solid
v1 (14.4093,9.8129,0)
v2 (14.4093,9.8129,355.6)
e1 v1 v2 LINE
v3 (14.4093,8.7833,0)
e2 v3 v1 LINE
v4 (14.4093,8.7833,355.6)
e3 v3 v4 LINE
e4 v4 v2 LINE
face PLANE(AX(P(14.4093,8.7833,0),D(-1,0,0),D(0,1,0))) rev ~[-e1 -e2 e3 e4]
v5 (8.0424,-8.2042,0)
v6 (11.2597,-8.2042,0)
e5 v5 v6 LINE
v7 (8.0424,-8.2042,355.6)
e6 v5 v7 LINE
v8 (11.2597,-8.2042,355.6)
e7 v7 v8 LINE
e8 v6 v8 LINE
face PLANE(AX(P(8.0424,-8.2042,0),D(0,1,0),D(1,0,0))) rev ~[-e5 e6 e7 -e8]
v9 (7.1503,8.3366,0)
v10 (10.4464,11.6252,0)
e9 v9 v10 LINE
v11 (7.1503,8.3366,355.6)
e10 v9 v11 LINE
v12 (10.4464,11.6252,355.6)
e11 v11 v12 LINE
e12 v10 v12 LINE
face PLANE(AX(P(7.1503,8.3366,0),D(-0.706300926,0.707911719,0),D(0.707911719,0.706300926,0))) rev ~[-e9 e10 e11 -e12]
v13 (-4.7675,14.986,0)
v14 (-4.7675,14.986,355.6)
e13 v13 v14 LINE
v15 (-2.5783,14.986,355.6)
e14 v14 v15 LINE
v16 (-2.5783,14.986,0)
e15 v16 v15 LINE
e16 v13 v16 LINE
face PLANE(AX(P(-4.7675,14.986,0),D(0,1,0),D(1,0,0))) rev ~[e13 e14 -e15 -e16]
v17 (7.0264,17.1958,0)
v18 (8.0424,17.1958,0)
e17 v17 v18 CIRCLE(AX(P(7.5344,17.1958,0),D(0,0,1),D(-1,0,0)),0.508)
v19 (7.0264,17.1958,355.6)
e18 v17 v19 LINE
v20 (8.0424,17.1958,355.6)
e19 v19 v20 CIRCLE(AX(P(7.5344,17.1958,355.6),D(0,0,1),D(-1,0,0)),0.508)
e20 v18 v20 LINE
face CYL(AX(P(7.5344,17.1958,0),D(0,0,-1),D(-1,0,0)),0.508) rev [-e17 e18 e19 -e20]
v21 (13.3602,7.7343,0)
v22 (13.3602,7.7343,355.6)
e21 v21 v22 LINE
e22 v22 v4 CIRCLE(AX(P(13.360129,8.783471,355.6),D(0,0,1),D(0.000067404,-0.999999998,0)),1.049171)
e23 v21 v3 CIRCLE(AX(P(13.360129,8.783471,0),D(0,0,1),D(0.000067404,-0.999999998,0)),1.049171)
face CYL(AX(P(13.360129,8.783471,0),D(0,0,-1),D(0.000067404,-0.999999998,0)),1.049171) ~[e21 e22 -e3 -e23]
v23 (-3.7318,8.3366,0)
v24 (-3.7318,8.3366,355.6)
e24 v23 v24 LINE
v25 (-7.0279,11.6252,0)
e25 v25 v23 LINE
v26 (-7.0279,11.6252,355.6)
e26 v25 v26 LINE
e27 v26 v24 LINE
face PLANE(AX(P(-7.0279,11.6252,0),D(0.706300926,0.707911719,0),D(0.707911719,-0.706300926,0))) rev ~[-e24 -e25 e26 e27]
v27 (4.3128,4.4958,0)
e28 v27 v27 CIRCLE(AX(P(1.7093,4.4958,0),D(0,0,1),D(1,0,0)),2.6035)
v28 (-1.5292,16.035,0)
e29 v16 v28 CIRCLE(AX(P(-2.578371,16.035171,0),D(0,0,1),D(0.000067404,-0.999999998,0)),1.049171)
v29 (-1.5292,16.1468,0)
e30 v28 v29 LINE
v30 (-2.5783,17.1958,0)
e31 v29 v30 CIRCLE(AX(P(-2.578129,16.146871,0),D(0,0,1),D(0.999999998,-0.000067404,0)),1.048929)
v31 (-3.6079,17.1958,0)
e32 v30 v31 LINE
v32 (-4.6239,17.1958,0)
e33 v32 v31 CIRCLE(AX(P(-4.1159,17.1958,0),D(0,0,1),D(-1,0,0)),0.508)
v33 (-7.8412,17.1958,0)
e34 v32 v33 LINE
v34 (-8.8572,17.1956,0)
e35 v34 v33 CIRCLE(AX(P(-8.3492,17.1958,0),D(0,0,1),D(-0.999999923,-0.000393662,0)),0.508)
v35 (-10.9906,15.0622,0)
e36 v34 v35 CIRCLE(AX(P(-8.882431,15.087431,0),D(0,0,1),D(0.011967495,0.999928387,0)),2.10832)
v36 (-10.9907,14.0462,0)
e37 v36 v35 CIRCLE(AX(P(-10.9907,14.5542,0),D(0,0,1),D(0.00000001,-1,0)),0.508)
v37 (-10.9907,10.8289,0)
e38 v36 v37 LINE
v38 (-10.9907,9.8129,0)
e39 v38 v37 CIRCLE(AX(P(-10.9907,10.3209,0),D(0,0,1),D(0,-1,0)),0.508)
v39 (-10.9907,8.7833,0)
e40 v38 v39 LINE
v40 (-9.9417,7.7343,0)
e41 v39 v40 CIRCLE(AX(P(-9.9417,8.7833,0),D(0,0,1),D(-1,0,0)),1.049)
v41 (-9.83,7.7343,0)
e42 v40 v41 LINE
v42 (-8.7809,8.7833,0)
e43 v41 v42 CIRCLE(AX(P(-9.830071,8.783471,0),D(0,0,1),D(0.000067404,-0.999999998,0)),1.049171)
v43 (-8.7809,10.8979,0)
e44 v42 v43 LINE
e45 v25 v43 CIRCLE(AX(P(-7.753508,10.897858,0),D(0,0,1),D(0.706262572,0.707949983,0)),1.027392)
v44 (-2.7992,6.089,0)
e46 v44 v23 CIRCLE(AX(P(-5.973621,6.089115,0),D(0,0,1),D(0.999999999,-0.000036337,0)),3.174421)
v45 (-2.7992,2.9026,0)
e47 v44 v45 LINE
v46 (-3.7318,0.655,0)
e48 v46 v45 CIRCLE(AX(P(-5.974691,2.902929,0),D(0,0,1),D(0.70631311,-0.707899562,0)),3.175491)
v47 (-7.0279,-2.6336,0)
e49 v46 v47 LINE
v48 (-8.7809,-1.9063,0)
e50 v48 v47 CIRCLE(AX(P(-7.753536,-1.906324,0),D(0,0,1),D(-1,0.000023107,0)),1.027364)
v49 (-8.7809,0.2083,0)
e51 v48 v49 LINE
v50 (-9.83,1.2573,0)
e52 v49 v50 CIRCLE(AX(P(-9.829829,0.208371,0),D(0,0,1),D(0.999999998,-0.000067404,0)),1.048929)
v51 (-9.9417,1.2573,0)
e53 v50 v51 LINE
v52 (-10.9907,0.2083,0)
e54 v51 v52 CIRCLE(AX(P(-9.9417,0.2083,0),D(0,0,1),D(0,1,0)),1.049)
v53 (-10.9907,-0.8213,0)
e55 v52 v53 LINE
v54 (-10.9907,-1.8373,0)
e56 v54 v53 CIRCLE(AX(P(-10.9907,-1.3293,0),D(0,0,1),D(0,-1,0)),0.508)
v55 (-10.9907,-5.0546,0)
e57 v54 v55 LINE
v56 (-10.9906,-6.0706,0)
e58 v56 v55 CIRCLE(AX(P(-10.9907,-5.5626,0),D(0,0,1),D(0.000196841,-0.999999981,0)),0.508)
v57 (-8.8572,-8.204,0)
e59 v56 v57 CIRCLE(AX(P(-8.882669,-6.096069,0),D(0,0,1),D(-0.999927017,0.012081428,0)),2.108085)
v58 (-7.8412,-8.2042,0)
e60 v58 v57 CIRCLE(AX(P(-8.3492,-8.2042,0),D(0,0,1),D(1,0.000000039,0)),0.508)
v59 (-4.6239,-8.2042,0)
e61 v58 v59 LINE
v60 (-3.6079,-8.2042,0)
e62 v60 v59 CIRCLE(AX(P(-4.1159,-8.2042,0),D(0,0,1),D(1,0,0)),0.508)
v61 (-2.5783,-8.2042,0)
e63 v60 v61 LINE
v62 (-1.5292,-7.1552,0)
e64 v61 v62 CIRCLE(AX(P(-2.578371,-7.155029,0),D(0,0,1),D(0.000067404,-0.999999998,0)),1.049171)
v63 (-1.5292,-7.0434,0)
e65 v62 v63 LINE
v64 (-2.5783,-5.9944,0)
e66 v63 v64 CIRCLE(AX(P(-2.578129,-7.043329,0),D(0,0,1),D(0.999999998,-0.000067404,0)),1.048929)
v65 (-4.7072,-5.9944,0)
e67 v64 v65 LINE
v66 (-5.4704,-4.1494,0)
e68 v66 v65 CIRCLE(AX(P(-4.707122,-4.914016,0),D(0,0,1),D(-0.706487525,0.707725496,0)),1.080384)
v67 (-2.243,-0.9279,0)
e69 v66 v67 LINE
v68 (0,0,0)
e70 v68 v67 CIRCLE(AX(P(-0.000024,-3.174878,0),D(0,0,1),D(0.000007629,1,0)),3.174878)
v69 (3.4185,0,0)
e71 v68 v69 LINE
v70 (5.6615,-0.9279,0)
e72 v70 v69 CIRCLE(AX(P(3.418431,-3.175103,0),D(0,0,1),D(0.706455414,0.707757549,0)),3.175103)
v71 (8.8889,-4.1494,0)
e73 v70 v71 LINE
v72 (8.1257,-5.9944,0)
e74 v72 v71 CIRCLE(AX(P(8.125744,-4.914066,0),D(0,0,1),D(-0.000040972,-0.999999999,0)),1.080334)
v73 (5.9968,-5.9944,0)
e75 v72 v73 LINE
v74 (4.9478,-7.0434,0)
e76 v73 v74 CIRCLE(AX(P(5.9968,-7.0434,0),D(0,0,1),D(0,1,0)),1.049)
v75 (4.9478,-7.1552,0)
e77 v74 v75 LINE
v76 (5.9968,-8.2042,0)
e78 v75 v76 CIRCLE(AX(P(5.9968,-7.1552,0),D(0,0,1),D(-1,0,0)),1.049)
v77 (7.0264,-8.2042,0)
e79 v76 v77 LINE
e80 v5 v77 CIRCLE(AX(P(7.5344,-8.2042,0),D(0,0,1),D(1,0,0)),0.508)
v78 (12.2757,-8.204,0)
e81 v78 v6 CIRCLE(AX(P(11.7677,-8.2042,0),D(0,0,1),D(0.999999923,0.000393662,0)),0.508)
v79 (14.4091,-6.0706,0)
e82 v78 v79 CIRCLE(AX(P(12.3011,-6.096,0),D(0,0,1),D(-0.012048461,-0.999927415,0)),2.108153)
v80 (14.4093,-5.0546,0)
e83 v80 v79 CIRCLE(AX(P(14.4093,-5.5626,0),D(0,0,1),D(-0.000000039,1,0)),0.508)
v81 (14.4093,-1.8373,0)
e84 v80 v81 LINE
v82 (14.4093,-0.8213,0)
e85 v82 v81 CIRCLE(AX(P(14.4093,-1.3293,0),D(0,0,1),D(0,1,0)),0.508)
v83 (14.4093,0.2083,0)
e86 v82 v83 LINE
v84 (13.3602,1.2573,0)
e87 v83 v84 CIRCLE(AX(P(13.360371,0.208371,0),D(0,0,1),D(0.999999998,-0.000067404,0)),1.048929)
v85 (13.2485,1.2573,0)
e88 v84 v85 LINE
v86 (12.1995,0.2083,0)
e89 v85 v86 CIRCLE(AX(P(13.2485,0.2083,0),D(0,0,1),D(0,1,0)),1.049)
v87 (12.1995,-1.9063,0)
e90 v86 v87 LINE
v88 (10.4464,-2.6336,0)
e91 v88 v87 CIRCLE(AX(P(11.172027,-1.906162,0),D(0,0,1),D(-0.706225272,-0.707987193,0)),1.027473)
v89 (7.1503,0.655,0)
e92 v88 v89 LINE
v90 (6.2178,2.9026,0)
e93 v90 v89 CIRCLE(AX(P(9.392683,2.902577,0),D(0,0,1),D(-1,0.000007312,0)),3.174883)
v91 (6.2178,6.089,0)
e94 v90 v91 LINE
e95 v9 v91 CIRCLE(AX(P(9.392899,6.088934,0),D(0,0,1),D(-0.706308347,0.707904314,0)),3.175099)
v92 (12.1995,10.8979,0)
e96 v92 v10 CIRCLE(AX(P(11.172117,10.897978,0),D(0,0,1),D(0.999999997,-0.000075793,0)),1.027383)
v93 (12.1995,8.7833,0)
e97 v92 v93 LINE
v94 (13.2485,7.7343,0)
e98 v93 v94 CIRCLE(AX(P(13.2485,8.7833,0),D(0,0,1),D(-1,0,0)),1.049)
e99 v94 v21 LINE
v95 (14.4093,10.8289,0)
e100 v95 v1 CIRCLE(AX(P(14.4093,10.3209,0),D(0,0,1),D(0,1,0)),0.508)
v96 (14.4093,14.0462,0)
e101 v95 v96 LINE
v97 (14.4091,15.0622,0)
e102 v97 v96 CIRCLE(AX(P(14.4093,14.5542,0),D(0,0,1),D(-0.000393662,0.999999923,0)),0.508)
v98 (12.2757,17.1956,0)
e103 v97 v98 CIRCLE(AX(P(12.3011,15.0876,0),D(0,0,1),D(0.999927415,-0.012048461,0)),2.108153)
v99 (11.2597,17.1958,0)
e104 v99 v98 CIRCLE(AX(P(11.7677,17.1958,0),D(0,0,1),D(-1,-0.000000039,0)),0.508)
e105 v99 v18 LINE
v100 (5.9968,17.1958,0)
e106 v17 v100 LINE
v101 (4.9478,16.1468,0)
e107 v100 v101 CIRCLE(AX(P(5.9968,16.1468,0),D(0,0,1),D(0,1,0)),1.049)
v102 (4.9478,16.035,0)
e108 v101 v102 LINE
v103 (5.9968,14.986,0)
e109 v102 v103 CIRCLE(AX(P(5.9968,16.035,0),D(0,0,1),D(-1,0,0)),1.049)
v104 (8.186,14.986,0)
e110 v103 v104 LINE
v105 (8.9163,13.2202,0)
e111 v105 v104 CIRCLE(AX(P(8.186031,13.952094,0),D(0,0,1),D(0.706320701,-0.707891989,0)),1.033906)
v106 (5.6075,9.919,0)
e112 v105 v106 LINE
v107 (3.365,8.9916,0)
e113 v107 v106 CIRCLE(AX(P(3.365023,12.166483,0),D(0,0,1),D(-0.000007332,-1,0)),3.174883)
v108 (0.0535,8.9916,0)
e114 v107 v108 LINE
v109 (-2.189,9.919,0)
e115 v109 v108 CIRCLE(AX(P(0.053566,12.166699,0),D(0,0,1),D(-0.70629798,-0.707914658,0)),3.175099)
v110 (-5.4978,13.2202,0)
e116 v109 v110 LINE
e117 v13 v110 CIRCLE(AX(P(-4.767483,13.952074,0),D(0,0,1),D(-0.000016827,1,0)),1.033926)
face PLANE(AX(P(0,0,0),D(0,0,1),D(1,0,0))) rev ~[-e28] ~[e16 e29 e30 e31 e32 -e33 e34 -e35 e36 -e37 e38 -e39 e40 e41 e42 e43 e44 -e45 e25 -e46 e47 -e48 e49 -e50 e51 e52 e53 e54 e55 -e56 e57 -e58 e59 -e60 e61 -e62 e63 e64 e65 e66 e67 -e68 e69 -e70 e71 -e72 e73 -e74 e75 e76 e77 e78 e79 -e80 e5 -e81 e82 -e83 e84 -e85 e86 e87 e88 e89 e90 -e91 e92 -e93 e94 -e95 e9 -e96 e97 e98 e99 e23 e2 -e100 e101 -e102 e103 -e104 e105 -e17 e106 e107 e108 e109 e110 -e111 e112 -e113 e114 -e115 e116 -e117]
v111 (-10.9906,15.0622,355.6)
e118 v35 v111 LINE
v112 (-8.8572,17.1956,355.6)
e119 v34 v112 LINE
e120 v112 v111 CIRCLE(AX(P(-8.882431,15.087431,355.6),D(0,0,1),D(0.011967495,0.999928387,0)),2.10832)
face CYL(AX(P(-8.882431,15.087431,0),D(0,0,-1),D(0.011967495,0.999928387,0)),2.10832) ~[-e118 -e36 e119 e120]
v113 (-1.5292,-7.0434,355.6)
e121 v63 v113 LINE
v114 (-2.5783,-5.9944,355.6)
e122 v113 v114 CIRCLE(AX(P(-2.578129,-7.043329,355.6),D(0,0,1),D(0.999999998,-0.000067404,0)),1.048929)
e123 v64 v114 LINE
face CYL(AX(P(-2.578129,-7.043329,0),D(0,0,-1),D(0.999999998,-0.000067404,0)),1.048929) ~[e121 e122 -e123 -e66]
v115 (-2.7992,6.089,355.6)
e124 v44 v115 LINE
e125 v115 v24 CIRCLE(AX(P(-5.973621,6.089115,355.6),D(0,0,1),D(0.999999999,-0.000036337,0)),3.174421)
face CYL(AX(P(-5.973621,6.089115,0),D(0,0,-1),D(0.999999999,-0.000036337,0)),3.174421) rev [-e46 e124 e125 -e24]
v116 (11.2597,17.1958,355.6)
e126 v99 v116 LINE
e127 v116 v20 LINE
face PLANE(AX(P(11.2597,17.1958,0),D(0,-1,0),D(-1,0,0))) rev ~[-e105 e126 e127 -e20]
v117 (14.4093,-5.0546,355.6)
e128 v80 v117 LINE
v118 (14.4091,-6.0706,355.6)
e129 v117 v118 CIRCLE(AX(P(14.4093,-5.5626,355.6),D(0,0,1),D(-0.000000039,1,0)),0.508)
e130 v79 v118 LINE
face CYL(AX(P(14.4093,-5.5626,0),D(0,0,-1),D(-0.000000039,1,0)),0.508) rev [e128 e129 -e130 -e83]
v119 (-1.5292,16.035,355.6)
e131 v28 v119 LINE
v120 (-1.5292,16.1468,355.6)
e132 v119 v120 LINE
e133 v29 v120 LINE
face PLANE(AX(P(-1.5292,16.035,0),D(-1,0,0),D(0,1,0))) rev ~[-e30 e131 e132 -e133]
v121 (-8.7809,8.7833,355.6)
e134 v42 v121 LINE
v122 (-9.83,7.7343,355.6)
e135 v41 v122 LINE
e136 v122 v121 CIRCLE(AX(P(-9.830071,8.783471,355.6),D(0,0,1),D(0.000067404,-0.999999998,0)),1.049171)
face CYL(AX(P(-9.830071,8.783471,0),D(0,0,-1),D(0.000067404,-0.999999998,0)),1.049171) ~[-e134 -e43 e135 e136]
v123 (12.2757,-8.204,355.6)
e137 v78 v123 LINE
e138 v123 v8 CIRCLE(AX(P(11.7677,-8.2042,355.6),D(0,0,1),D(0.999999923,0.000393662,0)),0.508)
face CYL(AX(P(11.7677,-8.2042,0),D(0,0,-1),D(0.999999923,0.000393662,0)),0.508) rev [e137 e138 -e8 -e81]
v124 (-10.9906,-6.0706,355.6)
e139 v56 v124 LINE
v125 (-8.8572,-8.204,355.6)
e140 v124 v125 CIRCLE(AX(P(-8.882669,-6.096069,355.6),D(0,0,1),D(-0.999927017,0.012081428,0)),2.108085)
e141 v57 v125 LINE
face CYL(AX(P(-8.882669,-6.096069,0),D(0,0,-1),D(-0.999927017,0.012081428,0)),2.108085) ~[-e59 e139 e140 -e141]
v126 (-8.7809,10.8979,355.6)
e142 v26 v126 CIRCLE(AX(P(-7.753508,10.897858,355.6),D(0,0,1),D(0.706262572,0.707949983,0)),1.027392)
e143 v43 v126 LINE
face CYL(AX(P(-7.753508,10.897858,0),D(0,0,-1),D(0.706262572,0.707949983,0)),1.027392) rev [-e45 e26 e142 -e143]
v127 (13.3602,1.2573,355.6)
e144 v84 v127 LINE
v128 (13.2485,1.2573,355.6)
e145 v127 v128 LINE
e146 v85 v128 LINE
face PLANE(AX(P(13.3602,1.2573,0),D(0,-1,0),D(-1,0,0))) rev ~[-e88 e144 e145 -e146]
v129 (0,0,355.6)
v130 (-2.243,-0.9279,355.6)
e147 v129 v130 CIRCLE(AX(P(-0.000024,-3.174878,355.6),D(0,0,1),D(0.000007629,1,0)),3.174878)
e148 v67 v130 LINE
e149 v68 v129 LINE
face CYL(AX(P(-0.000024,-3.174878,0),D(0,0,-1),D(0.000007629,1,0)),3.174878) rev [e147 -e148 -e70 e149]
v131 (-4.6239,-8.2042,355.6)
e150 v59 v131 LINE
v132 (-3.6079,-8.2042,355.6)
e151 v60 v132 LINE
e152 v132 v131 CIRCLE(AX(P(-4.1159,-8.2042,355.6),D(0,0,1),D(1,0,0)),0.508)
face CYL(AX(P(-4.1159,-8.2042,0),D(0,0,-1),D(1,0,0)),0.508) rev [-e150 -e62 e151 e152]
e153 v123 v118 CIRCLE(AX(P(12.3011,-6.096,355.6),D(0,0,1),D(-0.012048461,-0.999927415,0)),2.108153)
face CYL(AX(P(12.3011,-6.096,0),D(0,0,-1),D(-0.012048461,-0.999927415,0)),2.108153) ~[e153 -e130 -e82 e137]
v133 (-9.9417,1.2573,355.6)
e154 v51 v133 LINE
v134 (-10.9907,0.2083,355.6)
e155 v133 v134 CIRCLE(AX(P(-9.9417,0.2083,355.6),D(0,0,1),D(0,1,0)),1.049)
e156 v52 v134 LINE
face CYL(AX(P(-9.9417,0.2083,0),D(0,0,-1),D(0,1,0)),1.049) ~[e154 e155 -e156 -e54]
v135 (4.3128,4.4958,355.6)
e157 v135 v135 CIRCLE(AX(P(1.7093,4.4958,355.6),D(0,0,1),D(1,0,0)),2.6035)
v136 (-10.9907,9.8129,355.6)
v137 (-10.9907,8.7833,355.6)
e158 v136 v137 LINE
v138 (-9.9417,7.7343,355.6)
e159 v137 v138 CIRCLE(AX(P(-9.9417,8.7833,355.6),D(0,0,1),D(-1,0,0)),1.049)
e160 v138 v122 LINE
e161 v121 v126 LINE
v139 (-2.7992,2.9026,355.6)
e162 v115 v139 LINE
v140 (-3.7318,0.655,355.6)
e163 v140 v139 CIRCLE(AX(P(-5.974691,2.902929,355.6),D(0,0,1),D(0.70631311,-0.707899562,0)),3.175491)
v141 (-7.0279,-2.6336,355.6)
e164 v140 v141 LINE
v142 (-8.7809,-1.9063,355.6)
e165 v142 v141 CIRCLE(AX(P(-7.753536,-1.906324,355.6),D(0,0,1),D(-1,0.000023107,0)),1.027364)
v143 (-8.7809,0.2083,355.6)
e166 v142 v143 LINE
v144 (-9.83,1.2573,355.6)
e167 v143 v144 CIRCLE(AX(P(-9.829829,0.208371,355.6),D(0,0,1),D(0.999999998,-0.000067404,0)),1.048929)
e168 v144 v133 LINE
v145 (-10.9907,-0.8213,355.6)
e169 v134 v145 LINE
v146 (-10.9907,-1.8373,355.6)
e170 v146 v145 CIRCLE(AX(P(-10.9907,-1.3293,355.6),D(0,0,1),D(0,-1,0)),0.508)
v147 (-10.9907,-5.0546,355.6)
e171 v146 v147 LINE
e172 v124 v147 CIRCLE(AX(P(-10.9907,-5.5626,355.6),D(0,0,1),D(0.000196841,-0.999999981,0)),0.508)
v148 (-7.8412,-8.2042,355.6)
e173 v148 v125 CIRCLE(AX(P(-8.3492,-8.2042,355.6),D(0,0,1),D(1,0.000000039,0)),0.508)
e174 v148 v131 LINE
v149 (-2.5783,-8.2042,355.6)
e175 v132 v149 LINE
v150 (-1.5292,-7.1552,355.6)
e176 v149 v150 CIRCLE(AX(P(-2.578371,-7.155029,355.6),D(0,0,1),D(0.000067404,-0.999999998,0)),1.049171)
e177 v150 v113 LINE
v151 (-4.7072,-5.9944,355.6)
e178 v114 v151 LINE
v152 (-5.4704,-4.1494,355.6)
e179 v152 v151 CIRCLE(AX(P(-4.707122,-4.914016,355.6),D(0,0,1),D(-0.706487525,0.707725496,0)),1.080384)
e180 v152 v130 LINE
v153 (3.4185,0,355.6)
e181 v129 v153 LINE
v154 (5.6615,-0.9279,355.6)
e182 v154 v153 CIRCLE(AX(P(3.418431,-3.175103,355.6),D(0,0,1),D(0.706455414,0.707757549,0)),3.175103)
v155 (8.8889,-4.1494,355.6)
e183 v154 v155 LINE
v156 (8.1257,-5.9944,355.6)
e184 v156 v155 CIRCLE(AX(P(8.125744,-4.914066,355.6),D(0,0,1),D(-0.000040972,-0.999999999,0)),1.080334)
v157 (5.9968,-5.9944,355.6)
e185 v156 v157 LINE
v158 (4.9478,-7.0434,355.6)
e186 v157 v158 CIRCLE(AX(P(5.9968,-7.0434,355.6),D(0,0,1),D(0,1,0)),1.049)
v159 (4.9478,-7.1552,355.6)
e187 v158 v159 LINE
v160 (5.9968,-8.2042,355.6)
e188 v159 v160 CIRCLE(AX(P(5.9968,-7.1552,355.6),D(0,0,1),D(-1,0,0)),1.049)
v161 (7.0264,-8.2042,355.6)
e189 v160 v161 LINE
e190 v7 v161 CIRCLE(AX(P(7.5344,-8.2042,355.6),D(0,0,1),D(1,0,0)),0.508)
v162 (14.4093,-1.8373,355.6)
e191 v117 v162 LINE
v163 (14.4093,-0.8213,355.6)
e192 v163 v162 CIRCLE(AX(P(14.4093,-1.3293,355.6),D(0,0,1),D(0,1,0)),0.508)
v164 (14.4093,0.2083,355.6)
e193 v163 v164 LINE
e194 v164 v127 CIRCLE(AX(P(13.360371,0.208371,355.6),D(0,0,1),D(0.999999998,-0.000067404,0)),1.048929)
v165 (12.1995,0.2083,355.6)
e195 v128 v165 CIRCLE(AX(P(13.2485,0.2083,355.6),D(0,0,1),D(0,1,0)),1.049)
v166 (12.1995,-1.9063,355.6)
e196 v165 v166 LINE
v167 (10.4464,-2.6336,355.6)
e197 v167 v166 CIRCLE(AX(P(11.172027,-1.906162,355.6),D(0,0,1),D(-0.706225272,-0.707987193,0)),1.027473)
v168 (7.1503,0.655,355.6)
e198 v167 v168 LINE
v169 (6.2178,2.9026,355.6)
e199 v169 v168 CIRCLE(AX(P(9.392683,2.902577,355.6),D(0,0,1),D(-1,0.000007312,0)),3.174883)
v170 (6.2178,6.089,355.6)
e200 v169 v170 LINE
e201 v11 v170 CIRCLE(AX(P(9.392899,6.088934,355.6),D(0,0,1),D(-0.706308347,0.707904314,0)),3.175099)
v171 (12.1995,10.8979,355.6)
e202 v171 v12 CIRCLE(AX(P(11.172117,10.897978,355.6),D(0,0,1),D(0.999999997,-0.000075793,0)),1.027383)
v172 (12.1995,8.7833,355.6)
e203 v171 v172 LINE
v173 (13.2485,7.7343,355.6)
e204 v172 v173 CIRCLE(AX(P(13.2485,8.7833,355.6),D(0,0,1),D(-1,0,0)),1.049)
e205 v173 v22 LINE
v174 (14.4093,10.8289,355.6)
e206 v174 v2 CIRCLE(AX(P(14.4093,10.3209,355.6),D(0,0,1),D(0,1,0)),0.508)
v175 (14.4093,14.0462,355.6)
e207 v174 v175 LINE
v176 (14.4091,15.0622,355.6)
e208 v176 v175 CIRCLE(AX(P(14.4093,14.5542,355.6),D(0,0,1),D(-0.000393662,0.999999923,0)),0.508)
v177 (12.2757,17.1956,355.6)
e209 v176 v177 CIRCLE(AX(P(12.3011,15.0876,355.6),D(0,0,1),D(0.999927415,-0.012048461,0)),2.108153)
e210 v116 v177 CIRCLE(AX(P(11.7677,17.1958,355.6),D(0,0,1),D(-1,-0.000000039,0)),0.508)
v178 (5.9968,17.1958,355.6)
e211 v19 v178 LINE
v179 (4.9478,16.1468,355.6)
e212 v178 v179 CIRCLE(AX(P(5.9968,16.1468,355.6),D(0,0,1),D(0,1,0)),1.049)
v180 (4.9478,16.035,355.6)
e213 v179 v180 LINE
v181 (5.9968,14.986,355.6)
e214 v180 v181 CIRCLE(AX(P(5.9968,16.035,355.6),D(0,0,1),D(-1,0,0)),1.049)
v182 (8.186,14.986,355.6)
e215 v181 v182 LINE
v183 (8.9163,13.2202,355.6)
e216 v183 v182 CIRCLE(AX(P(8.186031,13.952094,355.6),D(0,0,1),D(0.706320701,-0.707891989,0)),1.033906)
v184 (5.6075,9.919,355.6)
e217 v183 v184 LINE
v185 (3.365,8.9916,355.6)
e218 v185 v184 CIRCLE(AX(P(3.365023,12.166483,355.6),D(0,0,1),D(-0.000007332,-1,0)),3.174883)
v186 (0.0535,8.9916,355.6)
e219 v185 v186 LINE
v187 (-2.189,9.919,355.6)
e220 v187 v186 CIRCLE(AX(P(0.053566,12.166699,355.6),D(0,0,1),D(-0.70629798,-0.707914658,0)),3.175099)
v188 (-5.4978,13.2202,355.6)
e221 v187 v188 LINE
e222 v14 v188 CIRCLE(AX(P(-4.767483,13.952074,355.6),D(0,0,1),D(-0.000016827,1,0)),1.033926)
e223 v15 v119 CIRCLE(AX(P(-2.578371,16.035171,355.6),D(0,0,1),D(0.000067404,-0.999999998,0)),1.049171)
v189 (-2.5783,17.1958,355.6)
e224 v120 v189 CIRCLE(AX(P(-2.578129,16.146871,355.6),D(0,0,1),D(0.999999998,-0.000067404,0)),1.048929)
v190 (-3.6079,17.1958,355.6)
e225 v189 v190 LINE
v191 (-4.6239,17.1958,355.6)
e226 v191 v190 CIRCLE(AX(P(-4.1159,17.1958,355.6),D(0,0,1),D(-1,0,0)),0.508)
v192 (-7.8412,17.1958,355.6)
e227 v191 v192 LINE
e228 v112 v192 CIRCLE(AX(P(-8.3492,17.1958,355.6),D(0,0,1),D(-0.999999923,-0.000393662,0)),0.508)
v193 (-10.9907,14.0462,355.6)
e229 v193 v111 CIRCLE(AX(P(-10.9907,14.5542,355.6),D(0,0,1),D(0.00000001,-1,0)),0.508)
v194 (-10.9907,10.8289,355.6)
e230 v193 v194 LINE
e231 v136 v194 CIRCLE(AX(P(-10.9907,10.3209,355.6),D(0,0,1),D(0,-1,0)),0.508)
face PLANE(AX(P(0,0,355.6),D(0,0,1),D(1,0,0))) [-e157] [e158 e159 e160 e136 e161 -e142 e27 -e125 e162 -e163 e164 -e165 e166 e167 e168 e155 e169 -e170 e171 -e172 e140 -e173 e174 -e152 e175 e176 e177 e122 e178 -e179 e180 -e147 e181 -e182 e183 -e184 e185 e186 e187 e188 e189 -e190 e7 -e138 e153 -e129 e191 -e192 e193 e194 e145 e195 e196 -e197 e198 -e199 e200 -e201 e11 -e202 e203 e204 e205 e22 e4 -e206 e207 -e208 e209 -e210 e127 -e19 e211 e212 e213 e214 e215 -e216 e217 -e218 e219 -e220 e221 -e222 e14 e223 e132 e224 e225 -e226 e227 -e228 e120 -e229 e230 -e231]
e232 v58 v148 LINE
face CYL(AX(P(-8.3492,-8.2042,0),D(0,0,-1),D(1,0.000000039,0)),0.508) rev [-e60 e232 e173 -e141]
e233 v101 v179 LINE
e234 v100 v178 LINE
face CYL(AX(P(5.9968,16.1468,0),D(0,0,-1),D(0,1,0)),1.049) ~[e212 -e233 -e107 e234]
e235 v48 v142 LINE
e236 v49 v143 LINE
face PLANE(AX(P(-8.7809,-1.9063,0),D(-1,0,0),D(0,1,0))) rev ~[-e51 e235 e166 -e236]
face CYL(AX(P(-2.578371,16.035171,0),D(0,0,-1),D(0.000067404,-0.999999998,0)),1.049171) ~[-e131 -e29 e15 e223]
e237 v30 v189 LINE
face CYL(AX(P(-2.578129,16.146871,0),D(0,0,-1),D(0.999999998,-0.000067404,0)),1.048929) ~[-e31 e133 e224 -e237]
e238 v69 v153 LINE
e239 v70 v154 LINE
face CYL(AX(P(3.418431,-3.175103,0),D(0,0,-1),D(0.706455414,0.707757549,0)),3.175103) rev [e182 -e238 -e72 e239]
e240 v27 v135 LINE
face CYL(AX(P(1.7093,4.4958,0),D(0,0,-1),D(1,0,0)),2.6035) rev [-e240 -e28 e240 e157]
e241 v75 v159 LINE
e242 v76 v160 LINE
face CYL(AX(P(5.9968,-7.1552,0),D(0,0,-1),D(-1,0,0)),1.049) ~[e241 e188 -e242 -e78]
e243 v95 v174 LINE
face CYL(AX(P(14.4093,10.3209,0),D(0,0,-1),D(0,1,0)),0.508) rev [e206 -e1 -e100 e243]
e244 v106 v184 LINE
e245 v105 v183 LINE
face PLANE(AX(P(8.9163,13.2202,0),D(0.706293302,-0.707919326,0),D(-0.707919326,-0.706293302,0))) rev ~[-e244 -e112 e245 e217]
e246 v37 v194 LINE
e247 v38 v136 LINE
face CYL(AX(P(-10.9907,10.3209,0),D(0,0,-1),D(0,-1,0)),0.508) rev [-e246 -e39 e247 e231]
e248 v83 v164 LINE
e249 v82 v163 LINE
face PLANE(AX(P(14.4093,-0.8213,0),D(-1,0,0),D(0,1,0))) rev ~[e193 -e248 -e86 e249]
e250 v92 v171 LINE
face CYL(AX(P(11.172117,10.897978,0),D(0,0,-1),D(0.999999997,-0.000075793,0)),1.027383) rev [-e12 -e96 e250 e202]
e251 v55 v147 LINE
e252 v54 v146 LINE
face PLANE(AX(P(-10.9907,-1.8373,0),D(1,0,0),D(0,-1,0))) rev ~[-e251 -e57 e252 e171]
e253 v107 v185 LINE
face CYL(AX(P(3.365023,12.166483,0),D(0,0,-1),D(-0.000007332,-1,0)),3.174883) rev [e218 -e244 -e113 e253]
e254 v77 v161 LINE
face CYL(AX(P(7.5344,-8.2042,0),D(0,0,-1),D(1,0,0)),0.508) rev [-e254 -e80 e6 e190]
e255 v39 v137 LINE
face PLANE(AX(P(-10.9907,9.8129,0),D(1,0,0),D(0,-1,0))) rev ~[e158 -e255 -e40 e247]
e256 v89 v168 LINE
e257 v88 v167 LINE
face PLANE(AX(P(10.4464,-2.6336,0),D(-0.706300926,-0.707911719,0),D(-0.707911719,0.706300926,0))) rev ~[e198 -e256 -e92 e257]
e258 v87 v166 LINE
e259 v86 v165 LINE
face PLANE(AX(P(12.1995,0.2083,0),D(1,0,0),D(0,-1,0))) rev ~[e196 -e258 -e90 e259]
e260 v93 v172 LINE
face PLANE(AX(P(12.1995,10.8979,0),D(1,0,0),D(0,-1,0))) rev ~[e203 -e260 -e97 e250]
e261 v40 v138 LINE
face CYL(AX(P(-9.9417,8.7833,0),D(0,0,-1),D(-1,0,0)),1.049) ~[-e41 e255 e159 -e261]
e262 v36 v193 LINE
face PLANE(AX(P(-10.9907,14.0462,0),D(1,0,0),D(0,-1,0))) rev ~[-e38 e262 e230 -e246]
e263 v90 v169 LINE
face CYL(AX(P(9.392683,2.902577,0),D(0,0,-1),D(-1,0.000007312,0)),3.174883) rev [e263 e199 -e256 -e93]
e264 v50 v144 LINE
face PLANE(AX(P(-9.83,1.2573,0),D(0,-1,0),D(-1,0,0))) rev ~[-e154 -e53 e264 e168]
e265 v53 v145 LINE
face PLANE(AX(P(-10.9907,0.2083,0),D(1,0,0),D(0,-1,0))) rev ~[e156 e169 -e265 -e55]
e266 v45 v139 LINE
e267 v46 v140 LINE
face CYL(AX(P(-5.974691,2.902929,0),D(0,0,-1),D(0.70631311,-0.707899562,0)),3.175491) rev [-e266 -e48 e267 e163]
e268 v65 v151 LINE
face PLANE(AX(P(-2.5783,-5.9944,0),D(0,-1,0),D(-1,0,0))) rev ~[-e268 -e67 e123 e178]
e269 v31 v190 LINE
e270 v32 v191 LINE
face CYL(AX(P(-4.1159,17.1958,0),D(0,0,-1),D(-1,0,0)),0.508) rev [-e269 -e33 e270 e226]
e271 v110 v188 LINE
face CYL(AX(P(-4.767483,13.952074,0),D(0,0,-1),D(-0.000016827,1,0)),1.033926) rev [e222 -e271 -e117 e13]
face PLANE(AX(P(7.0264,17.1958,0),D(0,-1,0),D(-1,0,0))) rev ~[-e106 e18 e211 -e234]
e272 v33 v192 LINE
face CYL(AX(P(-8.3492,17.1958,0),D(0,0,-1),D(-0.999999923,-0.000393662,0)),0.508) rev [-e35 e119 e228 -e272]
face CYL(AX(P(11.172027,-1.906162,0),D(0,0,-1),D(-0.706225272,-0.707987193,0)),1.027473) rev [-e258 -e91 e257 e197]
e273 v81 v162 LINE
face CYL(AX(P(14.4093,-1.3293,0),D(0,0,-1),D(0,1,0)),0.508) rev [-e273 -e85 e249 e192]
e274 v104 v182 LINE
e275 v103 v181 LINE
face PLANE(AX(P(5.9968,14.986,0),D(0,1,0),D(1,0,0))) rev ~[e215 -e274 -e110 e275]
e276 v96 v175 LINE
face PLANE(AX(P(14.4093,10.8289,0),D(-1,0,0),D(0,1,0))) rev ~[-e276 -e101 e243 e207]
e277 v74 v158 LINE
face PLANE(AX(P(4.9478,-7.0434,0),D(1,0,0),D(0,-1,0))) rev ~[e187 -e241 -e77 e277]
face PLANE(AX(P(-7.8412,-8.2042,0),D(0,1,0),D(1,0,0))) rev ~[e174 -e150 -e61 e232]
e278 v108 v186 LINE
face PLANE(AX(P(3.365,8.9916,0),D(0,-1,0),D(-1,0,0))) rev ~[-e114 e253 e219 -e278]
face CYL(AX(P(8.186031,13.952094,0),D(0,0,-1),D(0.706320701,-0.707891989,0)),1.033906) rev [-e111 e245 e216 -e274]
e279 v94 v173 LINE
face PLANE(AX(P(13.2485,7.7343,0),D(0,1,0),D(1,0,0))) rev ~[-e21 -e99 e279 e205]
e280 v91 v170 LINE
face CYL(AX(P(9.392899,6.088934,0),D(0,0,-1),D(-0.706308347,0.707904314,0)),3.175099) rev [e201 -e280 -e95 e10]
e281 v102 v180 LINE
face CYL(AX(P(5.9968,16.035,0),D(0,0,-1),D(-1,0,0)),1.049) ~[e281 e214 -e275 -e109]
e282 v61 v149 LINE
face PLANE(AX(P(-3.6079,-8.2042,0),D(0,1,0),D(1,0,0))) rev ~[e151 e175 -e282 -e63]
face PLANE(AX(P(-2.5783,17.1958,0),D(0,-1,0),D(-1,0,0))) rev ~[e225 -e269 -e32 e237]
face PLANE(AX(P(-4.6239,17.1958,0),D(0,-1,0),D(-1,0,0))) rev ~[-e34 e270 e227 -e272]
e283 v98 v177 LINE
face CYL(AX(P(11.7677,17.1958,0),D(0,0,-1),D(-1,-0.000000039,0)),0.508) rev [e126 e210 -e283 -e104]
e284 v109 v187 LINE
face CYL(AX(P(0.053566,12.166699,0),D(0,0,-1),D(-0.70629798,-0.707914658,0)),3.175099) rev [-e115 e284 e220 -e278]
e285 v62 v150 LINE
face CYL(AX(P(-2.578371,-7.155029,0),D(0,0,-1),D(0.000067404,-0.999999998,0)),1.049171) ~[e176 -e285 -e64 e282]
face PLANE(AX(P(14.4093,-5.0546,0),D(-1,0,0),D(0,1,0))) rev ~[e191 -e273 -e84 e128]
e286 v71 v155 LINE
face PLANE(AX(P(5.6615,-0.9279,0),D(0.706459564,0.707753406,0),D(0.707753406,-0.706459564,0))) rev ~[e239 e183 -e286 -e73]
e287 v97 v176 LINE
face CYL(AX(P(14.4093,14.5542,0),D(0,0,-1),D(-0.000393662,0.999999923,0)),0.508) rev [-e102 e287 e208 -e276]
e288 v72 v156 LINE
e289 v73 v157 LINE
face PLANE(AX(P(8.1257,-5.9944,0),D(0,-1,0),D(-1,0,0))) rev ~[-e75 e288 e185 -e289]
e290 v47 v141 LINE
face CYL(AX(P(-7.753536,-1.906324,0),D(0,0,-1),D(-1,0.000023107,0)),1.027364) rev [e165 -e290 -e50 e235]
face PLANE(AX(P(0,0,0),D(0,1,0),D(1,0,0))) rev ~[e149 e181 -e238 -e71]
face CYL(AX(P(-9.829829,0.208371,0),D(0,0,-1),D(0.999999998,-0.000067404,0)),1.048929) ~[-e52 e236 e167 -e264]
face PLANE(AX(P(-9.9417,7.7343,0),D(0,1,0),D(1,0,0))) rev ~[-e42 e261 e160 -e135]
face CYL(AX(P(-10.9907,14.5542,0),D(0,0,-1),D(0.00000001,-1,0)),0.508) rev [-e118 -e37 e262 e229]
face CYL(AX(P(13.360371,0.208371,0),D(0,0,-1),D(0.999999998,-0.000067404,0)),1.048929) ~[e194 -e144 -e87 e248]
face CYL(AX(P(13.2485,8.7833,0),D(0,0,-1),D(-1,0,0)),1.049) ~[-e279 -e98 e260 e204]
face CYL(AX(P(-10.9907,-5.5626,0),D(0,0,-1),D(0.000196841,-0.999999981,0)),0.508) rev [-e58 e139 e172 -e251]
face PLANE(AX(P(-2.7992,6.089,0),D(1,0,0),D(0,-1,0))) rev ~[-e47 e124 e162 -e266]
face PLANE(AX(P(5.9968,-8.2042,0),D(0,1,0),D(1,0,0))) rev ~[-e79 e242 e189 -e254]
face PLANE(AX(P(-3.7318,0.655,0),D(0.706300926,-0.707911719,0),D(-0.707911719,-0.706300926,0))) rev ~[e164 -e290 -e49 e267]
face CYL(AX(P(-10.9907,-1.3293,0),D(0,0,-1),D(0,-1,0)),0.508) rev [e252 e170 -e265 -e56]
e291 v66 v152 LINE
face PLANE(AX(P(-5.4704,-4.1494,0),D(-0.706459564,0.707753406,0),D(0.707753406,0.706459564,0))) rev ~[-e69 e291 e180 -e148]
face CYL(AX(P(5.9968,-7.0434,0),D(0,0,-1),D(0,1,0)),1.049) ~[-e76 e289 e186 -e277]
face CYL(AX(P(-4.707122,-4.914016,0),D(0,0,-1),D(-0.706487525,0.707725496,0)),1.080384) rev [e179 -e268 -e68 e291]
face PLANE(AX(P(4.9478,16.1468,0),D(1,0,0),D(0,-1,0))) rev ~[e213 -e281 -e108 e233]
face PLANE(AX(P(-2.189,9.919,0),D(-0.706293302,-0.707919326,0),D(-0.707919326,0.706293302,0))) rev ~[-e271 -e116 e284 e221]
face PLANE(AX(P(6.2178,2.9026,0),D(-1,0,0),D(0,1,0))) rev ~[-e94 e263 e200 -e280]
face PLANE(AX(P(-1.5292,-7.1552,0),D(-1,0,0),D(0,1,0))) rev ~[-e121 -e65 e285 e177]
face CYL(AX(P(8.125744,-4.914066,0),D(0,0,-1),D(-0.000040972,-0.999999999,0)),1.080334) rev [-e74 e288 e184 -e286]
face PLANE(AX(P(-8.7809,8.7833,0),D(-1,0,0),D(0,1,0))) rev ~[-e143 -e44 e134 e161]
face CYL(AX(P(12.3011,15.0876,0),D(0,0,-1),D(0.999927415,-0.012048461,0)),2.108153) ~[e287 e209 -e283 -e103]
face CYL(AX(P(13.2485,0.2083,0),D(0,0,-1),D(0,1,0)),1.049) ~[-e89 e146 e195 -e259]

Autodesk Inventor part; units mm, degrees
ref_plane "YZ Plane" through (0, 0, 0) normal (1, 0, 0) x (0, 1, 0)
ref_plane "XZ Plane" through (0, 0, 0) normal (0, 1, 0) x (-1, 0, 0)
ref_plane "XY Plane" through (0, 0, 0) normal (0, 0, 1) x (1, 0, 0)
sketch "Sketch1" plane through (0, 0, 0) normal (0, 0, 1) x (1, 0, 0)
  arc A0 (-5.4704, -4.1494) -> (-4.7072, -5.9944) centre (-4.7072, -4.914) ccw
  line L0 (-5.4704, -4.1494) -> (-2.243, -0.9279)
  arc A1 (0, 0) -> (-2.243, -0.9279) centre (0, -3.175) ccw
  line L1 (0, 0) -> (3.4185, 0)
  arc A2 (5.6615, -0.9279) -> (3.4185, 0) centre (3.4185, -3.175) ccw
  line L2 (5.6615, -0.9279) -> (8.8889, -4.1494)
  arc A3 (8.1257, -5.9944) -> (8.8889, -4.1494) centre (8.1257, -4.914) ccw
  line L3 (8.1257, -5.9944) -> (5.9968, -5.9944)
  arc A4 (5.9968, -5.9944) -> (4.9478, -7.0434) centre (5.9968, -7.0434) ccw
  line L4 (4.9478, -7.0434) -> (4.9478, -7.1552)
  arc A5 (4.9478, -7.1552) -> (5.9968, -8.2042) centre (5.9968, -7.1552) ccw
  line L5 (5.9968, -8.2042) -> (7.0264, -8.2042)
  arc A6 (8.0424, -8.2042) -> (7.0264, -8.2042) centre (7.5344, -8.2042) ccw
  line L6 (8.0424, -8.2042) -> (11.2597, -8.2042)
  arc A7 (12.2757, -8.204) -> (11.2597, -8.2042) centre (11.7677, -8.2042) ccw
  arc A8 (12.2757, -8.204) -> (14.4091, -6.0706) centre (12.3011, -6.096) ccw
  arc A9 (14.4093, -5.0546) -> (14.4091, -6.0706) centre (14.4093, -5.5626) ccw
  line L7 (14.4093, -5.0546) -> (14.4093, -1.8373)
  arc A10 (14.4093, -0.8213) -> (14.4093, -1.8373) centre (14.4093, -1.3293) ccw
  line L8 (14.4093, -0.8213) -> (14.4093, 0.2083)
  arc A11 (14.4093, 0.2083) -> (13.3602, 1.2573) centre (13.3602, 0.2083) ccw
  line L9 (13.3602, 1.2573) -> (13.2485, 1.2573)
  arc A12 (13.2485, 1.2573) -> (12.1995, 0.2083) centre (13.2485, 0.2083) ccw
  line L10 (12.1995, 0.2083) -> (12.1995, -1.9063)
  arc A13 (10.4464, -2.6336) -> (12.1995, -1.9063) centre (11.172, -1.9063) ccw
  line L11 (10.4464, -2.6336) -> (7.1503, 0.655)
  arc A14 (6.2178, 2.9026) -> (7.1503, 0.655) centre (9.3928, 2.9026) ccw
  line L12 (6.2178, 2.9026) -> (6.2178, 6.089)
  arc A15 (7.1503, 8.3366) -> (6.2178, 6.089) centre (9.3928, 6.089) ccw
  line L13 (7.1503, 8.3366) -> (10.4464, 11.6252)
  arc A16 (12.1995, 10.8979) -> (10.4464, 11.6252) centre (11.172, 10.8979) ccw
  line L14 (12.1995, 10.8979) -> (12.1995, 8.7833)
  arc A17 (12.1995, 8.7833) -> (13.2485, 7.7343) centre (13.2485, 8.7833) ccw
  line L15 (13.2485, 7.7343) -> (13.3602, 7.7343)
  arc A18 (13.3602, 7.7343) -> (14.4093, 8.7833) centre (13.3602, 8.7833) ccw
  line L16 (14.4093, 8.7833) -> (14.4093, 9.8129)
  arc A19 (14.4093, 10.8289) -> (14.4093, 9.8129) centre (14.4093, 10.3209) ccw
  line L17 (14.4093, 10.8289) -> (14.4093, 14.0462)
  arc A20 (14.4091, 15.0622) -> (14.4093, 14.0462) centre (14.4093, 14.5542) ccw
  arc A21 (14.4091, 15.0622) -> (12.2757, 17.1956) centre (12.3011, 15.0876) ccw
  arc A22 (11.2597, 17.1958) -> (12.2757, 17.1956) centre (11.7677, 17.1958) ccw
  line L18 (11.2597, 17.1958) -> (8.0424, 17.1958)
  arc A23 (7.0264, 17.1958) -> (8.0424, 17.1958) centre (7.5344, 17.1958) ccw
  line L19 (7.0264, 17.1958) -> (5.9968, 17.1958)
  arc A24 (5.9968, 17.1958) -> (4.9478, 16.1468) centre (5.9968, 16.1468) ccw
  line L20 (4.9478, 16.1468) -> (4.9478, 16.035)
  arc A25 (4.9478, 16.035) -> (5.9968, 14.986) centre (5.9968, 16.035) ccw
  line L21 (5.9968, 14.986) -> (8.186, 14.986)
  arc A26 (8.9163, 13.2202) -> (8.186, 14.986) centre (8.186, 13.9521) ccw
  line L22 (8.9163, 13.2202) -> (5.6075, 9.919)
  arc A27 (3.365, 8.9916) -> (5.6075, 9.919) centre (3.365, 12.1666) ccw
  line L23 (3.365, 8.9916) -> (0.0535, 8.9916)
  arc A28 (-2.189, 9.919) -> (0.0535, 8.9916) centre (0.0535, 12.1666) ccw
  line L24 (-2.189, 9.919) -> (-5.4978, 13.2202)
  arc A29 (-4.7675, 14.986) -> (-5.4978, 13.2202) centre (-4.7675, 13.9521) ccw
  line L25 (-4.7675, 14.986) -> (-2.5783, 14.986)
  arc A30 (-2.5783, 14.986) -> (-1.5292, 16.035) centre (-2.5783, 16.035) ccw
  line L26 (-1.5292, 16.035) -> (-1.5292, 16.1468)
  arc A31 (-1.5292, 16.1468) -> (-2.5783, 17.1958) centre (-2.5783, 16.1468) ccw
  line L27 (-2.5783, 17.1958) -> (-3.6079, 17.1958)
  arc A32 (-4.6239, 17.1958) -> (-3.6079, 17.1958) centre (-4.1159, 17.1958) ccw
  line L28 (-4.6239, 17.1958) -> (-7.8412, 17.1958)
  arc A33 (-8.8572, 17.1956) -> (-7.8412, 17.1958) centre (-8.3492, 17.1958) ccw
  arc A34 (-8.8572, 17.1956) -> (-10.9906, 15.0622) centre (-8.8825, 15.0876) ccw
  arc A35 (-10.9907, 14.0462) -> (-10.9906, 15.0622) centre (-10.9907, 14.5542) ccw
  line L29 (-10.9907, 14.0462) -> (-10.9907, 10.8289)
  arc A36 (-10.9907, 9.8129) -> (-10.9907, 10.8289) centre (-10.9907, 10.3209) ccw
  line L30 (-10.9907, 9.8129) -> (-10.9907, 8.7833)
  arc A37 (-10.9907, 8.7833) -> (-9.9417, 7.7343) centre (-9.9417, 8.7833) ccw
  line L31 (-9.9417, 7.7343) -> (-9.83, 7.7343)
  arc A38 (-9.83, 7.7343) -> (-8.7809, 8.7833) centre (-9.83, 8.7833) ccw
  line L32 (-8.7809, 8.7833) -> (-8.7809, 10.8979)
  arc A39 (-7.0279, 11.6252) -> (-8.7809, 10.8979) centre (-7.7535, 10.8979) ccw
  line L33 (-7.0279, 11.6252) -> (-3.7318, 8.3366)
  arc A40 (-2.7992, 6.089) -> (-3.7318, 8.3366) centre (-5.9742, 6.089) ccw
  line L34 (-2.7992, 6.089) -> (-2.7992, 2.9026)
  arc A41 (-3.7318, 0.655) -> (-2.7992, 2.9026) centre (-5.9742, 2.9026) ccw
  line L35 (-3.7318, 0.655) -> (-7.0279, -2.6336)
  arc A42 (-8.7809, -1.9063) -> (-7.0279, -2.6336) centre (-7.7535, -1.9063) ccw
  line L36 (-8.7809, -1.9063) -> (-8.7809, 0.2083)
  arc A43 (-8.7809, 0.2083) -> (-9.83, 1.2573) centre (-9.83, 0.2083) ccw
  line L37 (-9.83, 1.2573) -> (-9.9417, 1.2573)
  arc A44 (-9.9417, 1.2573) -> (-10.9907, 0.2083) centre (-9.9417, 0.2083) ccw
  line L38 (-10.9907, 0.2083) -> (-10.9907, -0.8213)
  arc A45 (-10.9907, -1.8373) -> (-10.9907, -0.8213) centre (-10.9907, -1.3293) ccw
  line L39 (-10.9907, -1.8373) -> (-10.9907, -5.0546)
  arc A46 (-10.9906, -6.0706) -> (-10.9907, -5.0546) centre (-10.9907, -5.5626) ccw
  arc A47 (-10.9906, -6.0706) -> (-8.8572, -8.204) centre (-8.8825, -6.096) ccw
  arc A48 (-7.8412, -8.2042) -> (-8.8572, -8.204) centre (-8.3492, -8.2042) ccw
  line L40 (-7.8412, -8.2042) -> (-4.6239, -8.2042)
  arc A49 (-3.6079, -8.2042) -> (-4.6239, -8.2042) centre (-4.1159, -8.2042) ccw
  line L41 (-3.6079, -8.2042) -> (-2.5783, -8.2042)
  arc A50 (-2.5783, -8.2042) -> (-1.5292, -7.1552) centre (-2.5783, -7.1552) ccw
  line L42 (-1.5292, -7.1552) -> (-1.5292, -7.0434)
  arc A51 (-1.5292, -7.0434) -> (-2.5783, -5.9944) centre (-2.5783, -7.0434) ccw
  line L43 (-2.5783, -5.9944) -> (-4.7072, -5.9944)
  circle A52 centre (1.7093, 4.4958) radius 2.6035
extrude "Extrusion1" add sketch "Sketch1" along normal blind 355.6
properties part number "14in 1x1 T slot"
